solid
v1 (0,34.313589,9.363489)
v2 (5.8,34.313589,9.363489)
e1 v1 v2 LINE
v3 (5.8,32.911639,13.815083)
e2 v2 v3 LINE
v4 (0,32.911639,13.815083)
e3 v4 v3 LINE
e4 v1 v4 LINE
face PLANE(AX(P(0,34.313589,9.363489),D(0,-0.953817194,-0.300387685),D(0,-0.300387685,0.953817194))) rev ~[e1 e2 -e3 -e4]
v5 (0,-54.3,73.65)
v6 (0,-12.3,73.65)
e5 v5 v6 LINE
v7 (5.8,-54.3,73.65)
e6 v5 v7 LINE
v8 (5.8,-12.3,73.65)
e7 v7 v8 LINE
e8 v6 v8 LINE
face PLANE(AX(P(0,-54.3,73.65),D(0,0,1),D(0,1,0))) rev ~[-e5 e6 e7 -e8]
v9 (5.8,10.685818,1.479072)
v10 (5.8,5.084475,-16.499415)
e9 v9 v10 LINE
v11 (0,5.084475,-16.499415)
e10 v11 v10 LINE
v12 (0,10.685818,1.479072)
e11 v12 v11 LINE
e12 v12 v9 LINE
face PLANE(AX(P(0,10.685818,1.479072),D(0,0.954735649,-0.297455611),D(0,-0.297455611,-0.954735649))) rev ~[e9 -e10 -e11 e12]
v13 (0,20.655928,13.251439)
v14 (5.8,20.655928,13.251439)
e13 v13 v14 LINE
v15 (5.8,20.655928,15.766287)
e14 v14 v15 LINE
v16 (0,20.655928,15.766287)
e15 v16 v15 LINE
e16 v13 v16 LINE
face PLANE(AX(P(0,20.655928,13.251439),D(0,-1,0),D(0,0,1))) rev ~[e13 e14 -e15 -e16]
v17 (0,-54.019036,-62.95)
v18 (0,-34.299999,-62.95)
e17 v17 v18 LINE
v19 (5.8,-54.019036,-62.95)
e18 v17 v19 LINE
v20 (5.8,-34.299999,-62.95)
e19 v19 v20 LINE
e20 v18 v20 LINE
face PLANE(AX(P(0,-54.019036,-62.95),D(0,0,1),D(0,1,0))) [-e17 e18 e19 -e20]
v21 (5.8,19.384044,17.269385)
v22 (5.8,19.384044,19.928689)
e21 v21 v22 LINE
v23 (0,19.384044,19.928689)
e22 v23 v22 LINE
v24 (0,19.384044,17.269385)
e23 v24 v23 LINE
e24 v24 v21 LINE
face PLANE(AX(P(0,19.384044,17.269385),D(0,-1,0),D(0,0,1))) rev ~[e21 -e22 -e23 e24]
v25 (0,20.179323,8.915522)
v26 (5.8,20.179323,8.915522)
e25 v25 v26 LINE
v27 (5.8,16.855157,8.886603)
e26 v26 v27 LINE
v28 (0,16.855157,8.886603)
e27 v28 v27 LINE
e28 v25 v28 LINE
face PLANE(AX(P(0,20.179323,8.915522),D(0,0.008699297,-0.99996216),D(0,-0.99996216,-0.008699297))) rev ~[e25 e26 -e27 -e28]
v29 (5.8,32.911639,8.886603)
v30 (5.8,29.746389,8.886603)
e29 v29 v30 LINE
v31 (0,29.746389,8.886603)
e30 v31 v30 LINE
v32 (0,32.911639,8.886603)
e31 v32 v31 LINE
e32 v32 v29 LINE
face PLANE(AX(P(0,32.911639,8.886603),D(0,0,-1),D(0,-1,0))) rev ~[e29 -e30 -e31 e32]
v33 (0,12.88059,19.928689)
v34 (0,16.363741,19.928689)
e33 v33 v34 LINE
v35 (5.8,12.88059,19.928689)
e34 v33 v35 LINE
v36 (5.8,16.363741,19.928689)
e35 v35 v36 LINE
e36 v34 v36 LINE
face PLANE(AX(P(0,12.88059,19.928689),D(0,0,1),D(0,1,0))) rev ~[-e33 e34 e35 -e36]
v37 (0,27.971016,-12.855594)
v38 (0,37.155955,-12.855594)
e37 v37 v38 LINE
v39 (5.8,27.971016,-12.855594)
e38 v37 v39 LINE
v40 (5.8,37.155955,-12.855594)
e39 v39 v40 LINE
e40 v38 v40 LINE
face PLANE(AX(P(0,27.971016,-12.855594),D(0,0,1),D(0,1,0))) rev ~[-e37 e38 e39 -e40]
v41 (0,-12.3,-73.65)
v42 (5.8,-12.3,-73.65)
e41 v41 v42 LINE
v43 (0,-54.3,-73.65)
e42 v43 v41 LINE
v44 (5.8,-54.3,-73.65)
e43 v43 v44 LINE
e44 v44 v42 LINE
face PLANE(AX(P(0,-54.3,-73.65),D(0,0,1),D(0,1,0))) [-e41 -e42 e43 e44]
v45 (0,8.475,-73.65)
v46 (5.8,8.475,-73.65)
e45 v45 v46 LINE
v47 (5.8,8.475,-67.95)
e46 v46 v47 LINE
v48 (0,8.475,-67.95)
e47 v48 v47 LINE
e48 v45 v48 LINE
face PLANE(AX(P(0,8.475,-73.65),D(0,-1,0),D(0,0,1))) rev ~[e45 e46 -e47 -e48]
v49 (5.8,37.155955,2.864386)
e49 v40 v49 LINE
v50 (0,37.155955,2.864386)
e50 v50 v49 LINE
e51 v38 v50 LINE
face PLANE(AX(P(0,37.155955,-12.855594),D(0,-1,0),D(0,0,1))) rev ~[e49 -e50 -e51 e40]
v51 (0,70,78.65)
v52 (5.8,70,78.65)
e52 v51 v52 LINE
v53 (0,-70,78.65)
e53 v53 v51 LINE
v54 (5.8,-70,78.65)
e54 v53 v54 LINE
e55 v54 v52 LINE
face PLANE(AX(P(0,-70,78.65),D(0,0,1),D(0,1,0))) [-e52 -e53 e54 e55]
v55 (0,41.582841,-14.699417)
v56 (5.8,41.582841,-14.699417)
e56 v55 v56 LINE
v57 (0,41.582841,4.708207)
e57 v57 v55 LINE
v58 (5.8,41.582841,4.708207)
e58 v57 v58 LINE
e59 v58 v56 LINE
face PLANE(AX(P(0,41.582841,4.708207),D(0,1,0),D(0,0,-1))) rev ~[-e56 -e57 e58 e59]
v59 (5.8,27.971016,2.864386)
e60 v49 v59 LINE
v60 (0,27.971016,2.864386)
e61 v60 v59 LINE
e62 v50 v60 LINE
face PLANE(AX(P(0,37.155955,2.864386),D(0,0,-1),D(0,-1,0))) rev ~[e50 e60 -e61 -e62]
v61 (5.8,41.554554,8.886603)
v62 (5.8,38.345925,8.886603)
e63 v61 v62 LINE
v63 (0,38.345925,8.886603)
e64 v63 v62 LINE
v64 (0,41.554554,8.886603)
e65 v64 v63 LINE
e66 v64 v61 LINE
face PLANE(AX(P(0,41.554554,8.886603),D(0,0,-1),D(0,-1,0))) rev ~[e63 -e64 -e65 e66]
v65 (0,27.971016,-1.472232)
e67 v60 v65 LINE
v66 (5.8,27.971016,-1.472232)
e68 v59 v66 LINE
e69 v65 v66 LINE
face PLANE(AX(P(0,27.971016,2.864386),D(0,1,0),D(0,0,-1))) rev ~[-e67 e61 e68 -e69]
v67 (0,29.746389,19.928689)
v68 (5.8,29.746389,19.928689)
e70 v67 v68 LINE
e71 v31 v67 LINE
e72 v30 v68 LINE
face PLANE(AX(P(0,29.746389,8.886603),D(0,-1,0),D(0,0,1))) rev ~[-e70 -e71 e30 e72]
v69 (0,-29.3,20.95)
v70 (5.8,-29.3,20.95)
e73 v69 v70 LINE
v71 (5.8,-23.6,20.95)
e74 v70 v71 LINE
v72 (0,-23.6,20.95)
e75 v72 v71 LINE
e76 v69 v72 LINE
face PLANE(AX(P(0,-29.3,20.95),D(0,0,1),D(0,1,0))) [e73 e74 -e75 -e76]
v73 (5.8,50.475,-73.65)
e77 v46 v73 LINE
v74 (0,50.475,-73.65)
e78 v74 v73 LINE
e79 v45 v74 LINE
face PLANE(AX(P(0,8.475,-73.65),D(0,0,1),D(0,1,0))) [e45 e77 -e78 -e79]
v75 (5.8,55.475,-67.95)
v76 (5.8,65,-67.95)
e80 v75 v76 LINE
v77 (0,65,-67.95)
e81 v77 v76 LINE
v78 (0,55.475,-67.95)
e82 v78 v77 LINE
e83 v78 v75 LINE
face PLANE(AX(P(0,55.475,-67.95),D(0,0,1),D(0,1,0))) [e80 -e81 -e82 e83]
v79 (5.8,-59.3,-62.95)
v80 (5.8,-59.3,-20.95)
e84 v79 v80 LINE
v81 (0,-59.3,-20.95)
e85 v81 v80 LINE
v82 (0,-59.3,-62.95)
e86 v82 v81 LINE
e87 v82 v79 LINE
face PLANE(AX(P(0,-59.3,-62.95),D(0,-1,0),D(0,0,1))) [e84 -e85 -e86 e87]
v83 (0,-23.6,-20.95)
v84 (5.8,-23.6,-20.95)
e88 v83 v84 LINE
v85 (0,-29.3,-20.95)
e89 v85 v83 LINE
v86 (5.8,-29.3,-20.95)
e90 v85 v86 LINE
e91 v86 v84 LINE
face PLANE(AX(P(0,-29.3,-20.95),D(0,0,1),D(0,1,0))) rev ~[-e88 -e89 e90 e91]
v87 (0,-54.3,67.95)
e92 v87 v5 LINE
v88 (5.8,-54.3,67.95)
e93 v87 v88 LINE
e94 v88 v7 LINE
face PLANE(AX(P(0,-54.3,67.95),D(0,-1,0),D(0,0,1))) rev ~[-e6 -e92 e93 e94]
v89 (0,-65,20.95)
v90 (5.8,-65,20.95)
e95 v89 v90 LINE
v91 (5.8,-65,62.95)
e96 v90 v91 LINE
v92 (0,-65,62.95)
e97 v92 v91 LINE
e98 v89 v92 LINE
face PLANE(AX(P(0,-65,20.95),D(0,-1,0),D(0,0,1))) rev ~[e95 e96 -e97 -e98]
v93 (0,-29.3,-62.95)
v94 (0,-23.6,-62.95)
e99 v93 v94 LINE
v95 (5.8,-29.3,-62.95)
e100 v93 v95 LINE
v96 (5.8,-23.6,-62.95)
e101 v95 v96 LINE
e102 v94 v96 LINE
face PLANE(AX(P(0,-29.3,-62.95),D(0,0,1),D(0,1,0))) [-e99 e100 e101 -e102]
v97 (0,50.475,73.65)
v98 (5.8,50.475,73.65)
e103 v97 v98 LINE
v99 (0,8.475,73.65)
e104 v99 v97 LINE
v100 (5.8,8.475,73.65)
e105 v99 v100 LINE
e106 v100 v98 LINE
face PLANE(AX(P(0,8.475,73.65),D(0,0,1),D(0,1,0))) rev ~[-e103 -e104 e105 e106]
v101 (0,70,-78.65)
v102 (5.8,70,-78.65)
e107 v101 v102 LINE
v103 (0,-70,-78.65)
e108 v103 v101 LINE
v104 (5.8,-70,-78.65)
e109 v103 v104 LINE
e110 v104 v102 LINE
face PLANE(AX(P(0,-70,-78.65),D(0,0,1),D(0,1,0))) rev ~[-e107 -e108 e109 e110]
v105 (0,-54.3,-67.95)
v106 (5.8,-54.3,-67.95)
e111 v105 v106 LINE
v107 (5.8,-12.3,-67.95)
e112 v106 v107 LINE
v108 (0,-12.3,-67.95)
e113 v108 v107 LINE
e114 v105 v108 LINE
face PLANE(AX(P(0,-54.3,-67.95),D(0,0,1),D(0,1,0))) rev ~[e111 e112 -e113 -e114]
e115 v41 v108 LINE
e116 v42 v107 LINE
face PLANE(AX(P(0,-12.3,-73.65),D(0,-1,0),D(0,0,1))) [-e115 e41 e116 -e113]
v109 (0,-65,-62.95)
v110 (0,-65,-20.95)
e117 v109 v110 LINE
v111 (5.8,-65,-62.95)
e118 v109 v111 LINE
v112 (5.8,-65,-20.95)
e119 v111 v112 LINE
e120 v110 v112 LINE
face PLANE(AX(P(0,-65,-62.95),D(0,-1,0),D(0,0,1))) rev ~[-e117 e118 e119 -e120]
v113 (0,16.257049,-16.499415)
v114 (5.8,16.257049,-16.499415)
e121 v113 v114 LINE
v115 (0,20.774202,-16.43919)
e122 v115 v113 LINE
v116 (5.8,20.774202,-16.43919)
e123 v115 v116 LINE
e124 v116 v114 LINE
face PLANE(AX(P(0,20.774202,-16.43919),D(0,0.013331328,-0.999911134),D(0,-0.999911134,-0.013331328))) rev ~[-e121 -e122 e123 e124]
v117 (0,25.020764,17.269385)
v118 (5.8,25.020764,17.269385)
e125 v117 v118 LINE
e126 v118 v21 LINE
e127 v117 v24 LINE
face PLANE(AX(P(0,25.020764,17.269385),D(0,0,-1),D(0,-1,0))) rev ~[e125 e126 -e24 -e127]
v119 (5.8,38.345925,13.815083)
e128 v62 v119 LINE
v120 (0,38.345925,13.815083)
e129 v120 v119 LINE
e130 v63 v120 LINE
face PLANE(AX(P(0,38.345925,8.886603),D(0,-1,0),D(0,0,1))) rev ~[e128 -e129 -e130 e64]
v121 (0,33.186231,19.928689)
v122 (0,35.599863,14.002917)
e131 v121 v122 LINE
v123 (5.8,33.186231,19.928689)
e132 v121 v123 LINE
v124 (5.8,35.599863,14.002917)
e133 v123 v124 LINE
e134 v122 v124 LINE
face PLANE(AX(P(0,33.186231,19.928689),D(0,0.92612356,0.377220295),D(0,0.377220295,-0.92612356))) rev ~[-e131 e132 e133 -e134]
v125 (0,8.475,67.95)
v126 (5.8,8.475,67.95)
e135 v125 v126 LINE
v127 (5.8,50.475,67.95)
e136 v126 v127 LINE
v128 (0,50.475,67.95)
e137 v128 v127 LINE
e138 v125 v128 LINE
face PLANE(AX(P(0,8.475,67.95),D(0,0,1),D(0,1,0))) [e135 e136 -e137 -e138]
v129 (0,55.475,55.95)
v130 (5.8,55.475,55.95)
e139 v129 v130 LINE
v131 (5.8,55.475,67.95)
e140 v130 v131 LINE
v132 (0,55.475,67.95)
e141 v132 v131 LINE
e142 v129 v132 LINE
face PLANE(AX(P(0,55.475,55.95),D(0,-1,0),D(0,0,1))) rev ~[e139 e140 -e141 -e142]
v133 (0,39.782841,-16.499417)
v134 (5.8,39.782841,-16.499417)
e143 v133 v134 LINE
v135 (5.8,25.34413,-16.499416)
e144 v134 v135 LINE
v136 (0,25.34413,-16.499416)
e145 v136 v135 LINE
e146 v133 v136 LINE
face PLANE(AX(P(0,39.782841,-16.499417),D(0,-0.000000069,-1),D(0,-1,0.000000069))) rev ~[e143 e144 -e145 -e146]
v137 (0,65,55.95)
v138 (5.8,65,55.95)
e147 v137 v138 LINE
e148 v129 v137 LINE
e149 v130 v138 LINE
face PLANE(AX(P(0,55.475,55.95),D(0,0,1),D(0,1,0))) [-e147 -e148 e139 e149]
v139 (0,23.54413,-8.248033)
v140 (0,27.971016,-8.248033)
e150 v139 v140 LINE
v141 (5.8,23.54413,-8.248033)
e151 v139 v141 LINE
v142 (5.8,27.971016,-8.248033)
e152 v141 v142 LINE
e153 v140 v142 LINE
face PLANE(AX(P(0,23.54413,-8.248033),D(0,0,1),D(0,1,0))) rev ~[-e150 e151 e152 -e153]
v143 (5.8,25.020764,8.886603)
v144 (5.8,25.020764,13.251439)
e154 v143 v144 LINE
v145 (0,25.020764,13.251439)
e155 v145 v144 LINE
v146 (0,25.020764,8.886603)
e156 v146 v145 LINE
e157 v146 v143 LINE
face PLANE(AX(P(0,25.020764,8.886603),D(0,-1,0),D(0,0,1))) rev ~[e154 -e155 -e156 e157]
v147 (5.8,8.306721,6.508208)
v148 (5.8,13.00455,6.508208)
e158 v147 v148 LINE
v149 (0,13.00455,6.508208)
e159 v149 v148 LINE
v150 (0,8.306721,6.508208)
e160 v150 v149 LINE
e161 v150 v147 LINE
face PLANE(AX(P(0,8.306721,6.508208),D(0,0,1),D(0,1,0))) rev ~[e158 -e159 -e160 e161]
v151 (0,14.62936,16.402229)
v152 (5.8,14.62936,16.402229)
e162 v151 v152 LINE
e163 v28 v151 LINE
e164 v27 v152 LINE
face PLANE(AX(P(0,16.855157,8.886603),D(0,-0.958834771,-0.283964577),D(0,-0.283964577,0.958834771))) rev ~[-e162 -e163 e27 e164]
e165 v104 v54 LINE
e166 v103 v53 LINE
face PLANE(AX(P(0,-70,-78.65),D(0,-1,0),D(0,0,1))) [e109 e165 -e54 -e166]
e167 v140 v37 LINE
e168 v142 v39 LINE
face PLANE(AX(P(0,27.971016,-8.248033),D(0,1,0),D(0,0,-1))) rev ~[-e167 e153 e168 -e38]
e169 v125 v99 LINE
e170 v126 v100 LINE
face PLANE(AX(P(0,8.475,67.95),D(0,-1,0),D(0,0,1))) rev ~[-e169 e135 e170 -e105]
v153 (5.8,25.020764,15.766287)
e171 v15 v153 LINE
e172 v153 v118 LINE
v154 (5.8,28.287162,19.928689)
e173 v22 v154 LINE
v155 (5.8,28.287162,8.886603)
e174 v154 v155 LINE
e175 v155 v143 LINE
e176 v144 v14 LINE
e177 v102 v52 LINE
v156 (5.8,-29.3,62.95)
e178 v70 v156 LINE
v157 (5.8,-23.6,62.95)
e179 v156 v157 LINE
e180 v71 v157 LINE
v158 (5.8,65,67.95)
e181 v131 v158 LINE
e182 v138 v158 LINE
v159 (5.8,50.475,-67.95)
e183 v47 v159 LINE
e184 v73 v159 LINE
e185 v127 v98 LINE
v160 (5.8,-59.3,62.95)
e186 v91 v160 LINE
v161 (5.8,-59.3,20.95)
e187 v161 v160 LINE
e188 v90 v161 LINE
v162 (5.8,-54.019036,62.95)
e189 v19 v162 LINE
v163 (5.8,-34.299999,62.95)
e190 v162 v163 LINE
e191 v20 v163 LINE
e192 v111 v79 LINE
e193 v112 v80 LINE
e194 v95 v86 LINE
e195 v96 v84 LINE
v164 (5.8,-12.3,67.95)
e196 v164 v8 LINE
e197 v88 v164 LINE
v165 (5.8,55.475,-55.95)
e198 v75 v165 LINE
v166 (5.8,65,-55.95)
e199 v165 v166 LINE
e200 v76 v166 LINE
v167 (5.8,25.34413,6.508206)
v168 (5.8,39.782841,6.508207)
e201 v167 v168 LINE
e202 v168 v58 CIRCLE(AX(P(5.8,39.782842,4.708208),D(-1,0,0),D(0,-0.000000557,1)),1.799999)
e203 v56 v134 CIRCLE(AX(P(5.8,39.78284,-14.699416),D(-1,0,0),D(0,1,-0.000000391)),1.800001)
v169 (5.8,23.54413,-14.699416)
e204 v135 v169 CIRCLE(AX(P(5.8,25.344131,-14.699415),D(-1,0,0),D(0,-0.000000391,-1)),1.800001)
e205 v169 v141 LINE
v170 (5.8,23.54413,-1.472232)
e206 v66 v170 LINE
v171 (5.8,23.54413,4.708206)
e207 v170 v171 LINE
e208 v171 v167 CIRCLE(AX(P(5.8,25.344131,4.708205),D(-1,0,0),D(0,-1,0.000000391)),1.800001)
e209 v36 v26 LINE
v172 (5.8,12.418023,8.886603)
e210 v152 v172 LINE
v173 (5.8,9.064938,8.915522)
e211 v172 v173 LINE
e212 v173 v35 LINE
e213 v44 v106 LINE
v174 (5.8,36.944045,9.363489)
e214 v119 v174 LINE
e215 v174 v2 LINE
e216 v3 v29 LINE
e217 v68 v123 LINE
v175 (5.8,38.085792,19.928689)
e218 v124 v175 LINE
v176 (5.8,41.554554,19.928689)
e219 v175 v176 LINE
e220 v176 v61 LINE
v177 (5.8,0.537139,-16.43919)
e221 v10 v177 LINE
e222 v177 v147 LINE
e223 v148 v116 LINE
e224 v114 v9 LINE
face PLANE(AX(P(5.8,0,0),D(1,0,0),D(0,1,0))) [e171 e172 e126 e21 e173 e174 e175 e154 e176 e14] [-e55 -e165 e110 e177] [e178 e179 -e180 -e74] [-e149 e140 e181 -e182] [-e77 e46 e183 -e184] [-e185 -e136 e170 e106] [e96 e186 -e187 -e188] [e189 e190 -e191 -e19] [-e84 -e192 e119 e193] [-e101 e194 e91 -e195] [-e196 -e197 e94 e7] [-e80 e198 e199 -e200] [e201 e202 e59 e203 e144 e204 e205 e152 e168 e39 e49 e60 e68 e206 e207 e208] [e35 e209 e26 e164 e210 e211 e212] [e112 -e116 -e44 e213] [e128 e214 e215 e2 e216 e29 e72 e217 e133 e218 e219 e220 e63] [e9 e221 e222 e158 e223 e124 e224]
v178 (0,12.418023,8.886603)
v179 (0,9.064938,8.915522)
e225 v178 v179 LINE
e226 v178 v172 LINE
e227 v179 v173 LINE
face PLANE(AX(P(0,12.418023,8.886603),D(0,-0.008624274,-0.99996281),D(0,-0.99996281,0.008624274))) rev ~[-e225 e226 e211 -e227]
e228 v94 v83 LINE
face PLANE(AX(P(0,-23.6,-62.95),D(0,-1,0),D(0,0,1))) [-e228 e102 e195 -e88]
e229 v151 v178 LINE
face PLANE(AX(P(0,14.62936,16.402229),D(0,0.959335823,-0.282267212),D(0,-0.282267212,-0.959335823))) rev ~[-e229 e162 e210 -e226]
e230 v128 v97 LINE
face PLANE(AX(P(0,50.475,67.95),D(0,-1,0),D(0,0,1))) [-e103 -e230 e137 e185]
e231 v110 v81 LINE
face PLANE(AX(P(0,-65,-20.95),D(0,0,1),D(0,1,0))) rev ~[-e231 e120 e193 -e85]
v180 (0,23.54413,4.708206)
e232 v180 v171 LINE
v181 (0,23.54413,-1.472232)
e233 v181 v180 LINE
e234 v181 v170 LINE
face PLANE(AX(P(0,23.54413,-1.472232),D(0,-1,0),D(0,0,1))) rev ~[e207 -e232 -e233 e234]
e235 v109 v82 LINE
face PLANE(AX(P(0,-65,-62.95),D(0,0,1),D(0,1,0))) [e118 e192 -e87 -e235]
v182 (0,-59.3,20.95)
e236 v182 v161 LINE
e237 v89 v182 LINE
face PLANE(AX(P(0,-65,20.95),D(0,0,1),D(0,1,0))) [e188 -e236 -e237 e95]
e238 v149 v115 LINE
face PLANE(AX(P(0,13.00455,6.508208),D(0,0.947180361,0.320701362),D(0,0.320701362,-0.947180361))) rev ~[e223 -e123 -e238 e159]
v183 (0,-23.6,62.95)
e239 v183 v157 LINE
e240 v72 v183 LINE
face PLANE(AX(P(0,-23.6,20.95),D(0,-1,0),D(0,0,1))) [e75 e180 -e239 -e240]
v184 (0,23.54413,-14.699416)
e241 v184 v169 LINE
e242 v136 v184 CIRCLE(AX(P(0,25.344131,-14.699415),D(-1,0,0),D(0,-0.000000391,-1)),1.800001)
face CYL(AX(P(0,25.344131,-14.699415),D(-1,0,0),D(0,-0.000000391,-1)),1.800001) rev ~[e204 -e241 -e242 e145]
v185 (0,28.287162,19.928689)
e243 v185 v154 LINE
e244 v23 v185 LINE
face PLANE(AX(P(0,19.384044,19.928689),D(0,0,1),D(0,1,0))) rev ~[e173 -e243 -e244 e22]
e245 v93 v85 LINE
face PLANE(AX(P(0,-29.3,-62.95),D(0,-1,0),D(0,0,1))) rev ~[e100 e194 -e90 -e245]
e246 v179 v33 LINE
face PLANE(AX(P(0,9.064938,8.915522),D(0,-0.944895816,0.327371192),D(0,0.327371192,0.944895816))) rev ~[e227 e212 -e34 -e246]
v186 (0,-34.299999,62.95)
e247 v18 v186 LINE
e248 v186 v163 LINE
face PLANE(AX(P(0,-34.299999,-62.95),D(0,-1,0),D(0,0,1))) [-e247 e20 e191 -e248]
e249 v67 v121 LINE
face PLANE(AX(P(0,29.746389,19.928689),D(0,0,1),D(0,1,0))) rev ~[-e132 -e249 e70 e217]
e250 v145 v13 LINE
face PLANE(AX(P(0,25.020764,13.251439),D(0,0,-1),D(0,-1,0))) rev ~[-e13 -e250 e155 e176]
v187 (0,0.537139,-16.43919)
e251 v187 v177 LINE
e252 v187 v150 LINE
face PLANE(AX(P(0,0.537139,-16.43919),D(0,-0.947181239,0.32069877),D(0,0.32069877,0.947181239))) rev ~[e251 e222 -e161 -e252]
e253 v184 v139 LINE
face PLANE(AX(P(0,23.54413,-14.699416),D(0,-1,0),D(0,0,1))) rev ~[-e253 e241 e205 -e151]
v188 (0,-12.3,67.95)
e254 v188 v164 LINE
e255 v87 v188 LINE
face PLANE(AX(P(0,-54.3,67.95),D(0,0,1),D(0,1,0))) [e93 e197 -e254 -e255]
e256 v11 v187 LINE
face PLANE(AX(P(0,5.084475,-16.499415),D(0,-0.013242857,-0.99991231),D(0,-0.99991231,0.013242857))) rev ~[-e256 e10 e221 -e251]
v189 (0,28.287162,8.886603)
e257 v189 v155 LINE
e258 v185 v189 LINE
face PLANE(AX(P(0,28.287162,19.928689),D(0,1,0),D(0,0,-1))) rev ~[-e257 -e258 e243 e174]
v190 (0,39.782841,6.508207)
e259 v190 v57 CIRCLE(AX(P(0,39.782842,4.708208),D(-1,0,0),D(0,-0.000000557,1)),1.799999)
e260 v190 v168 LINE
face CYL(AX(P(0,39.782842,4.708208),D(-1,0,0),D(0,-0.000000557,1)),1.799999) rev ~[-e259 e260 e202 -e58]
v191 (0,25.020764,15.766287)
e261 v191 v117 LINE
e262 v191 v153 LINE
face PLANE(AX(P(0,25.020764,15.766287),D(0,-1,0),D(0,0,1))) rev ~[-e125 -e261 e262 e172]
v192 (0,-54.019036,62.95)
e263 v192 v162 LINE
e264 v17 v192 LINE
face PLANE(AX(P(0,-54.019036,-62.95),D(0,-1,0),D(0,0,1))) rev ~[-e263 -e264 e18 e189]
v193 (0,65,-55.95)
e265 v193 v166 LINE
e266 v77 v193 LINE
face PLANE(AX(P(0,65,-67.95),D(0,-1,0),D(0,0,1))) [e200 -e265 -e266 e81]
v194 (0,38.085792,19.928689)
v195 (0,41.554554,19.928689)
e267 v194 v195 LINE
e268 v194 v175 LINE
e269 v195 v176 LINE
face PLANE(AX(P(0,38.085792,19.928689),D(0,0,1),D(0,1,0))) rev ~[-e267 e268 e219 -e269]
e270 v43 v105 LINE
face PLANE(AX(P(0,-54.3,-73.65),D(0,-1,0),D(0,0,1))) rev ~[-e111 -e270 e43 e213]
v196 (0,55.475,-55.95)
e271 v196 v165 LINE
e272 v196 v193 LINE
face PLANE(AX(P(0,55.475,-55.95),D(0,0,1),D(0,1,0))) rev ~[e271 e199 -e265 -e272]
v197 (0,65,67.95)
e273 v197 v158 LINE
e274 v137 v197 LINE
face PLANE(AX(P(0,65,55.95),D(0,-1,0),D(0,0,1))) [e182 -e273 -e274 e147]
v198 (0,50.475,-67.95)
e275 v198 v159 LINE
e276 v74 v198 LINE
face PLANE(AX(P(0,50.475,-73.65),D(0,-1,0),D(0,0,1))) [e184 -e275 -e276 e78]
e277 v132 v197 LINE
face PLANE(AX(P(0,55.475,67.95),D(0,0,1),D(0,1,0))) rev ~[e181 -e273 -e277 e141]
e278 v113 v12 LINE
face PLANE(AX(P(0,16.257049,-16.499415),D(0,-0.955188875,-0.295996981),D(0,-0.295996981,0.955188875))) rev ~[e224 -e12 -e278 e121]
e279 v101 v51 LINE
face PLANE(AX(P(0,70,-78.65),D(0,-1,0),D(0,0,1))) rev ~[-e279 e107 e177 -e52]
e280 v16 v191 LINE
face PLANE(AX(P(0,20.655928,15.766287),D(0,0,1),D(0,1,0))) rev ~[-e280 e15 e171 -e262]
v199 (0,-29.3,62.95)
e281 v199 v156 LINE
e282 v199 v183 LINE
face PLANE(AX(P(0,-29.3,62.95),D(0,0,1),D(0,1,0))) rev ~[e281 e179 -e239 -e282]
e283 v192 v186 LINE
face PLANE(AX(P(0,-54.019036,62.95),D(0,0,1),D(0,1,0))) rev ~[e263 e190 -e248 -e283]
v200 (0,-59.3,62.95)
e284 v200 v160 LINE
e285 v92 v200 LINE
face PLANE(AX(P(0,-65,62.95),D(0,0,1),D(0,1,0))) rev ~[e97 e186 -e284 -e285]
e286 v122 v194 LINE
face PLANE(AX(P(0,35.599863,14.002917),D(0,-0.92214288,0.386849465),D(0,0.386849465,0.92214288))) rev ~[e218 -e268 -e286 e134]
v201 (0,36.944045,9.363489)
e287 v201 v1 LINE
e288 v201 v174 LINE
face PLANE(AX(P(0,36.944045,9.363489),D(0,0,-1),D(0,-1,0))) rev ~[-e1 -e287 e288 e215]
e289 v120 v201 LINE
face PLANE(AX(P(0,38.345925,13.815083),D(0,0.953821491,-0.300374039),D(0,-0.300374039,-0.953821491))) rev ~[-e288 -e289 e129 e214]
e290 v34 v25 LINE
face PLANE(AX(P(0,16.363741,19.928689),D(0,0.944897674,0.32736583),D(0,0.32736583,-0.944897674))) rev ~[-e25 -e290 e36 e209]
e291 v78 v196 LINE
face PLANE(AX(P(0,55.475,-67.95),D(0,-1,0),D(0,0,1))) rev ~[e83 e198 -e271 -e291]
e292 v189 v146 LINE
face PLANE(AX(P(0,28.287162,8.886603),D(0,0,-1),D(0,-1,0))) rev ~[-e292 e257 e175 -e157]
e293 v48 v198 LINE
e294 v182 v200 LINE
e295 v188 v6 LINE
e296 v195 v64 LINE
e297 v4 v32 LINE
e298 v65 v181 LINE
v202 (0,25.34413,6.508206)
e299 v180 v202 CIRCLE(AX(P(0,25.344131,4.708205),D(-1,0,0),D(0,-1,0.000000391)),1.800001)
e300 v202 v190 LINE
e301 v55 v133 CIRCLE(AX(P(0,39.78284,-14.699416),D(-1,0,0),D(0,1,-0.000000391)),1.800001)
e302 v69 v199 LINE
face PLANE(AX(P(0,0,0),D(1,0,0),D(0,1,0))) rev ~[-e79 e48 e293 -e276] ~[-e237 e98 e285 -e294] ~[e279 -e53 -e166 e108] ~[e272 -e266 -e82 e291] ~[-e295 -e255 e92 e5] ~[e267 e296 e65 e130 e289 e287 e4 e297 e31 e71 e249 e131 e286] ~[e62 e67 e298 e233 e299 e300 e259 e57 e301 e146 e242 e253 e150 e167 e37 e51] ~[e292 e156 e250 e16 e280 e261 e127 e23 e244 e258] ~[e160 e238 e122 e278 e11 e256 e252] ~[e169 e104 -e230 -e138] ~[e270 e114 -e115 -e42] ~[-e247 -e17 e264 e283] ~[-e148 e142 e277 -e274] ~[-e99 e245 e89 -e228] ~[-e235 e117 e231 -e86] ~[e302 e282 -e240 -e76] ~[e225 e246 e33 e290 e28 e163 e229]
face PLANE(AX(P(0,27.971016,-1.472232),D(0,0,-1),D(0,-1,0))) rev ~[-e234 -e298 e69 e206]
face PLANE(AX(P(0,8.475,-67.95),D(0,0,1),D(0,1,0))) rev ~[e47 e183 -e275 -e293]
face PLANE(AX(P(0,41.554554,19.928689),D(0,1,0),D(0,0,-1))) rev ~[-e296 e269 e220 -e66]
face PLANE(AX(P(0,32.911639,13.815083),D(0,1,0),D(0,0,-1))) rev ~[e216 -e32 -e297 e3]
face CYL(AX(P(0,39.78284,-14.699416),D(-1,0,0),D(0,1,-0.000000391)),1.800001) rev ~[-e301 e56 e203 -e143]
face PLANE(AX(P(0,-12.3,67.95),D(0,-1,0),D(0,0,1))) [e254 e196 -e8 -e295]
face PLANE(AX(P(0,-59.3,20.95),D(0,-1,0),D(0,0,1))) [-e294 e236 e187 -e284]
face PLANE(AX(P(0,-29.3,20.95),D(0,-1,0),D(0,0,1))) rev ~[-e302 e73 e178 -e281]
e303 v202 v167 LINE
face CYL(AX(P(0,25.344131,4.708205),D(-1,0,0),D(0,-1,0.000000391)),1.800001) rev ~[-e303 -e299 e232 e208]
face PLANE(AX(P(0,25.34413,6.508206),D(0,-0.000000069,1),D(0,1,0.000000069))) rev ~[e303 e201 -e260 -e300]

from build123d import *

# Parameters (mm, degrees)
F0_W     = 140
F0_H     = 157.3
F0_W_2   = 5.7
F0_H_2   = 42
F0_W_3   = 42
F0_H_3   = 5.7
F0_W_4   = 9.525
F0_H_4   = 12
F0_W_5   = 19.719037
F0_H_5   = 125.9
F1_DEPTH = 5.8


with BuildPart() as f1:
    # F0 (on Right) → F1 (new body)
    with BuildSketch(Plane.YZ):
        Rectangle(F0_W, F0_H)
        with Locations((-62.15, -41.95)):
            Rectangle(F0_W_2, F0_H_2, mode=Mode.SUBTRACT)
        with Locations((-33.3, -70.8)):
            Rectangle(F0_W_3, F0_H_3, mode=Mode.SUBTRACT)
        with Locations((-26.45, -41.95)):
            Rectangle(F0_W_2, F0_H_2, mode=Mode.SUBTRACT)
        with Locations((29.475, -70.8)):
            Rectangle(F0_W_3, F0_H_3, mode=Mode.SUBTRACT)
        with Locations((60.2375, -61.95)):
            Rectangle(F0_W_4, F0_H_4, mode=Mode.SUBTRACT)
        Polygon((5.084475, -16.499415), (0.537139, -16.43919), (8.306721, 6.508208), (13.00455, 6.508208), (20.774202, -16.43919), (16.257049, -16.499415), (10.685818, 1.479072), align=None, mode=Mode.SUBTRACT)
        with BuildLine():
            Line((25.34413, 6.508206), (39.782841, 6.508207))
            ThreePointArc((39.782841, 6.508207), (41.055633, 5.981), (41.582841, 4.708207))
            Line((41.582841, 4.708207), (41.582841, -14.699417))
            ThreePointArc((41.582841, -14.699417), (41.055633, -15.972209), (39.782841, -16.499417))
            Line((39.782841, -16.499417), (25.34413, -16.499416))
            ThreePointArc((25.34413, -16.499416), (24.071338, -15.972208), (23.54413, -14.699416))
            Line((23.54413, -14.699416), (23.54413, -8.248033))
            Line((23.54413, -8.248033), (27.971016, -8.248033))
            Line((27.971016, -8.248033), (27.971016, -12.855594))
            Line((27.971016, -12.855594), (37.155955, -12.855594))
            Line((37.155955, -12.855594), (37.155955, 2.864386))
            Line((37.155955, 2.864386), (27.971016, 2.864386))
            Line((27.971016, 2.864386), (27.971016, -1.472232))
            Line((27.971016, -1.472232), (23.54413, -1.472232))
            Line((23.54413, -1.472232), (23.54413, 4.708206))
            ThreePointArc((23.54413, 4.708206), (24.071338, 5.980998), (25.34413, 6.508206))
        make_face(mode=Mode.SUBTRACT)
        with Locations((-44.159518, 0)):
            Rectangle(F0_W_5, F0_H_5, mode=Mode.SUBTRACT)
        with Locations((-62.15, 41.95)):
            Rectangle(F0_W_2, F0_H_2, mode=Mode.SUBTRACT)
        with Locations((-26.45, 41.95)):
            Rectangle(F0_W_2, F0_H_2, mode=Mode.SUBTRACT)
        with Locations((-33.3, 70.8)):
            Rectangle(F0_W_3, F0_H_3, mode=Mode.SUBTRACT)
        Polygon((16.363741, 19.928689), (20.179323, 8.915522), (16.855157, 8.886603), (14.62936, 16.402229), (12.418023, 8.886603), (9.064938, 8.915522), (12.88059, 19.928689), align=None, mode=Mode.SUBTRACT)
        Polygon((20.655928, 13.251439), (20.655928, 15.766287), (25.020764, 15.766287), (25.020764, 17.269385), (19.384044, 17.269385), (19.384044, 19.928689), (28.287162, 19.928689), (28.287162, 8.886603), (25.020764, 8.886603), (25.020764, 13.251439), align=None, mode=Mode.SUBTRACT)
        Polygon((38.345925, 13.815083), (36.944045, 9.363489), (34.313589, 9.363489), (32.911639, 13.815083), (32.911639, 8.886603), (29.746389, 8.886603), (29.746389, 19.928689), (33.186231, 19.928689), (35.599863, 14.002917), (38.085792, 19.928689), (41.554554, 19.928689), (41.554554, 8.886603), (38.345925, 8.886603), align=None, mode=Mode.SUBTRACT)
        with Locations((29.475, 70.8)):
            Rectangle(F0_W_3, F0_H_3, mode=Mode.SUBTRACT)
        with Locations((60.2375, 61.95)):
            Rectangle(F0_W_4, F0_H_4, mode=Mode.SUBTRACT)
    extrude(amount=F1_DEPTH)


solid = f1.part
